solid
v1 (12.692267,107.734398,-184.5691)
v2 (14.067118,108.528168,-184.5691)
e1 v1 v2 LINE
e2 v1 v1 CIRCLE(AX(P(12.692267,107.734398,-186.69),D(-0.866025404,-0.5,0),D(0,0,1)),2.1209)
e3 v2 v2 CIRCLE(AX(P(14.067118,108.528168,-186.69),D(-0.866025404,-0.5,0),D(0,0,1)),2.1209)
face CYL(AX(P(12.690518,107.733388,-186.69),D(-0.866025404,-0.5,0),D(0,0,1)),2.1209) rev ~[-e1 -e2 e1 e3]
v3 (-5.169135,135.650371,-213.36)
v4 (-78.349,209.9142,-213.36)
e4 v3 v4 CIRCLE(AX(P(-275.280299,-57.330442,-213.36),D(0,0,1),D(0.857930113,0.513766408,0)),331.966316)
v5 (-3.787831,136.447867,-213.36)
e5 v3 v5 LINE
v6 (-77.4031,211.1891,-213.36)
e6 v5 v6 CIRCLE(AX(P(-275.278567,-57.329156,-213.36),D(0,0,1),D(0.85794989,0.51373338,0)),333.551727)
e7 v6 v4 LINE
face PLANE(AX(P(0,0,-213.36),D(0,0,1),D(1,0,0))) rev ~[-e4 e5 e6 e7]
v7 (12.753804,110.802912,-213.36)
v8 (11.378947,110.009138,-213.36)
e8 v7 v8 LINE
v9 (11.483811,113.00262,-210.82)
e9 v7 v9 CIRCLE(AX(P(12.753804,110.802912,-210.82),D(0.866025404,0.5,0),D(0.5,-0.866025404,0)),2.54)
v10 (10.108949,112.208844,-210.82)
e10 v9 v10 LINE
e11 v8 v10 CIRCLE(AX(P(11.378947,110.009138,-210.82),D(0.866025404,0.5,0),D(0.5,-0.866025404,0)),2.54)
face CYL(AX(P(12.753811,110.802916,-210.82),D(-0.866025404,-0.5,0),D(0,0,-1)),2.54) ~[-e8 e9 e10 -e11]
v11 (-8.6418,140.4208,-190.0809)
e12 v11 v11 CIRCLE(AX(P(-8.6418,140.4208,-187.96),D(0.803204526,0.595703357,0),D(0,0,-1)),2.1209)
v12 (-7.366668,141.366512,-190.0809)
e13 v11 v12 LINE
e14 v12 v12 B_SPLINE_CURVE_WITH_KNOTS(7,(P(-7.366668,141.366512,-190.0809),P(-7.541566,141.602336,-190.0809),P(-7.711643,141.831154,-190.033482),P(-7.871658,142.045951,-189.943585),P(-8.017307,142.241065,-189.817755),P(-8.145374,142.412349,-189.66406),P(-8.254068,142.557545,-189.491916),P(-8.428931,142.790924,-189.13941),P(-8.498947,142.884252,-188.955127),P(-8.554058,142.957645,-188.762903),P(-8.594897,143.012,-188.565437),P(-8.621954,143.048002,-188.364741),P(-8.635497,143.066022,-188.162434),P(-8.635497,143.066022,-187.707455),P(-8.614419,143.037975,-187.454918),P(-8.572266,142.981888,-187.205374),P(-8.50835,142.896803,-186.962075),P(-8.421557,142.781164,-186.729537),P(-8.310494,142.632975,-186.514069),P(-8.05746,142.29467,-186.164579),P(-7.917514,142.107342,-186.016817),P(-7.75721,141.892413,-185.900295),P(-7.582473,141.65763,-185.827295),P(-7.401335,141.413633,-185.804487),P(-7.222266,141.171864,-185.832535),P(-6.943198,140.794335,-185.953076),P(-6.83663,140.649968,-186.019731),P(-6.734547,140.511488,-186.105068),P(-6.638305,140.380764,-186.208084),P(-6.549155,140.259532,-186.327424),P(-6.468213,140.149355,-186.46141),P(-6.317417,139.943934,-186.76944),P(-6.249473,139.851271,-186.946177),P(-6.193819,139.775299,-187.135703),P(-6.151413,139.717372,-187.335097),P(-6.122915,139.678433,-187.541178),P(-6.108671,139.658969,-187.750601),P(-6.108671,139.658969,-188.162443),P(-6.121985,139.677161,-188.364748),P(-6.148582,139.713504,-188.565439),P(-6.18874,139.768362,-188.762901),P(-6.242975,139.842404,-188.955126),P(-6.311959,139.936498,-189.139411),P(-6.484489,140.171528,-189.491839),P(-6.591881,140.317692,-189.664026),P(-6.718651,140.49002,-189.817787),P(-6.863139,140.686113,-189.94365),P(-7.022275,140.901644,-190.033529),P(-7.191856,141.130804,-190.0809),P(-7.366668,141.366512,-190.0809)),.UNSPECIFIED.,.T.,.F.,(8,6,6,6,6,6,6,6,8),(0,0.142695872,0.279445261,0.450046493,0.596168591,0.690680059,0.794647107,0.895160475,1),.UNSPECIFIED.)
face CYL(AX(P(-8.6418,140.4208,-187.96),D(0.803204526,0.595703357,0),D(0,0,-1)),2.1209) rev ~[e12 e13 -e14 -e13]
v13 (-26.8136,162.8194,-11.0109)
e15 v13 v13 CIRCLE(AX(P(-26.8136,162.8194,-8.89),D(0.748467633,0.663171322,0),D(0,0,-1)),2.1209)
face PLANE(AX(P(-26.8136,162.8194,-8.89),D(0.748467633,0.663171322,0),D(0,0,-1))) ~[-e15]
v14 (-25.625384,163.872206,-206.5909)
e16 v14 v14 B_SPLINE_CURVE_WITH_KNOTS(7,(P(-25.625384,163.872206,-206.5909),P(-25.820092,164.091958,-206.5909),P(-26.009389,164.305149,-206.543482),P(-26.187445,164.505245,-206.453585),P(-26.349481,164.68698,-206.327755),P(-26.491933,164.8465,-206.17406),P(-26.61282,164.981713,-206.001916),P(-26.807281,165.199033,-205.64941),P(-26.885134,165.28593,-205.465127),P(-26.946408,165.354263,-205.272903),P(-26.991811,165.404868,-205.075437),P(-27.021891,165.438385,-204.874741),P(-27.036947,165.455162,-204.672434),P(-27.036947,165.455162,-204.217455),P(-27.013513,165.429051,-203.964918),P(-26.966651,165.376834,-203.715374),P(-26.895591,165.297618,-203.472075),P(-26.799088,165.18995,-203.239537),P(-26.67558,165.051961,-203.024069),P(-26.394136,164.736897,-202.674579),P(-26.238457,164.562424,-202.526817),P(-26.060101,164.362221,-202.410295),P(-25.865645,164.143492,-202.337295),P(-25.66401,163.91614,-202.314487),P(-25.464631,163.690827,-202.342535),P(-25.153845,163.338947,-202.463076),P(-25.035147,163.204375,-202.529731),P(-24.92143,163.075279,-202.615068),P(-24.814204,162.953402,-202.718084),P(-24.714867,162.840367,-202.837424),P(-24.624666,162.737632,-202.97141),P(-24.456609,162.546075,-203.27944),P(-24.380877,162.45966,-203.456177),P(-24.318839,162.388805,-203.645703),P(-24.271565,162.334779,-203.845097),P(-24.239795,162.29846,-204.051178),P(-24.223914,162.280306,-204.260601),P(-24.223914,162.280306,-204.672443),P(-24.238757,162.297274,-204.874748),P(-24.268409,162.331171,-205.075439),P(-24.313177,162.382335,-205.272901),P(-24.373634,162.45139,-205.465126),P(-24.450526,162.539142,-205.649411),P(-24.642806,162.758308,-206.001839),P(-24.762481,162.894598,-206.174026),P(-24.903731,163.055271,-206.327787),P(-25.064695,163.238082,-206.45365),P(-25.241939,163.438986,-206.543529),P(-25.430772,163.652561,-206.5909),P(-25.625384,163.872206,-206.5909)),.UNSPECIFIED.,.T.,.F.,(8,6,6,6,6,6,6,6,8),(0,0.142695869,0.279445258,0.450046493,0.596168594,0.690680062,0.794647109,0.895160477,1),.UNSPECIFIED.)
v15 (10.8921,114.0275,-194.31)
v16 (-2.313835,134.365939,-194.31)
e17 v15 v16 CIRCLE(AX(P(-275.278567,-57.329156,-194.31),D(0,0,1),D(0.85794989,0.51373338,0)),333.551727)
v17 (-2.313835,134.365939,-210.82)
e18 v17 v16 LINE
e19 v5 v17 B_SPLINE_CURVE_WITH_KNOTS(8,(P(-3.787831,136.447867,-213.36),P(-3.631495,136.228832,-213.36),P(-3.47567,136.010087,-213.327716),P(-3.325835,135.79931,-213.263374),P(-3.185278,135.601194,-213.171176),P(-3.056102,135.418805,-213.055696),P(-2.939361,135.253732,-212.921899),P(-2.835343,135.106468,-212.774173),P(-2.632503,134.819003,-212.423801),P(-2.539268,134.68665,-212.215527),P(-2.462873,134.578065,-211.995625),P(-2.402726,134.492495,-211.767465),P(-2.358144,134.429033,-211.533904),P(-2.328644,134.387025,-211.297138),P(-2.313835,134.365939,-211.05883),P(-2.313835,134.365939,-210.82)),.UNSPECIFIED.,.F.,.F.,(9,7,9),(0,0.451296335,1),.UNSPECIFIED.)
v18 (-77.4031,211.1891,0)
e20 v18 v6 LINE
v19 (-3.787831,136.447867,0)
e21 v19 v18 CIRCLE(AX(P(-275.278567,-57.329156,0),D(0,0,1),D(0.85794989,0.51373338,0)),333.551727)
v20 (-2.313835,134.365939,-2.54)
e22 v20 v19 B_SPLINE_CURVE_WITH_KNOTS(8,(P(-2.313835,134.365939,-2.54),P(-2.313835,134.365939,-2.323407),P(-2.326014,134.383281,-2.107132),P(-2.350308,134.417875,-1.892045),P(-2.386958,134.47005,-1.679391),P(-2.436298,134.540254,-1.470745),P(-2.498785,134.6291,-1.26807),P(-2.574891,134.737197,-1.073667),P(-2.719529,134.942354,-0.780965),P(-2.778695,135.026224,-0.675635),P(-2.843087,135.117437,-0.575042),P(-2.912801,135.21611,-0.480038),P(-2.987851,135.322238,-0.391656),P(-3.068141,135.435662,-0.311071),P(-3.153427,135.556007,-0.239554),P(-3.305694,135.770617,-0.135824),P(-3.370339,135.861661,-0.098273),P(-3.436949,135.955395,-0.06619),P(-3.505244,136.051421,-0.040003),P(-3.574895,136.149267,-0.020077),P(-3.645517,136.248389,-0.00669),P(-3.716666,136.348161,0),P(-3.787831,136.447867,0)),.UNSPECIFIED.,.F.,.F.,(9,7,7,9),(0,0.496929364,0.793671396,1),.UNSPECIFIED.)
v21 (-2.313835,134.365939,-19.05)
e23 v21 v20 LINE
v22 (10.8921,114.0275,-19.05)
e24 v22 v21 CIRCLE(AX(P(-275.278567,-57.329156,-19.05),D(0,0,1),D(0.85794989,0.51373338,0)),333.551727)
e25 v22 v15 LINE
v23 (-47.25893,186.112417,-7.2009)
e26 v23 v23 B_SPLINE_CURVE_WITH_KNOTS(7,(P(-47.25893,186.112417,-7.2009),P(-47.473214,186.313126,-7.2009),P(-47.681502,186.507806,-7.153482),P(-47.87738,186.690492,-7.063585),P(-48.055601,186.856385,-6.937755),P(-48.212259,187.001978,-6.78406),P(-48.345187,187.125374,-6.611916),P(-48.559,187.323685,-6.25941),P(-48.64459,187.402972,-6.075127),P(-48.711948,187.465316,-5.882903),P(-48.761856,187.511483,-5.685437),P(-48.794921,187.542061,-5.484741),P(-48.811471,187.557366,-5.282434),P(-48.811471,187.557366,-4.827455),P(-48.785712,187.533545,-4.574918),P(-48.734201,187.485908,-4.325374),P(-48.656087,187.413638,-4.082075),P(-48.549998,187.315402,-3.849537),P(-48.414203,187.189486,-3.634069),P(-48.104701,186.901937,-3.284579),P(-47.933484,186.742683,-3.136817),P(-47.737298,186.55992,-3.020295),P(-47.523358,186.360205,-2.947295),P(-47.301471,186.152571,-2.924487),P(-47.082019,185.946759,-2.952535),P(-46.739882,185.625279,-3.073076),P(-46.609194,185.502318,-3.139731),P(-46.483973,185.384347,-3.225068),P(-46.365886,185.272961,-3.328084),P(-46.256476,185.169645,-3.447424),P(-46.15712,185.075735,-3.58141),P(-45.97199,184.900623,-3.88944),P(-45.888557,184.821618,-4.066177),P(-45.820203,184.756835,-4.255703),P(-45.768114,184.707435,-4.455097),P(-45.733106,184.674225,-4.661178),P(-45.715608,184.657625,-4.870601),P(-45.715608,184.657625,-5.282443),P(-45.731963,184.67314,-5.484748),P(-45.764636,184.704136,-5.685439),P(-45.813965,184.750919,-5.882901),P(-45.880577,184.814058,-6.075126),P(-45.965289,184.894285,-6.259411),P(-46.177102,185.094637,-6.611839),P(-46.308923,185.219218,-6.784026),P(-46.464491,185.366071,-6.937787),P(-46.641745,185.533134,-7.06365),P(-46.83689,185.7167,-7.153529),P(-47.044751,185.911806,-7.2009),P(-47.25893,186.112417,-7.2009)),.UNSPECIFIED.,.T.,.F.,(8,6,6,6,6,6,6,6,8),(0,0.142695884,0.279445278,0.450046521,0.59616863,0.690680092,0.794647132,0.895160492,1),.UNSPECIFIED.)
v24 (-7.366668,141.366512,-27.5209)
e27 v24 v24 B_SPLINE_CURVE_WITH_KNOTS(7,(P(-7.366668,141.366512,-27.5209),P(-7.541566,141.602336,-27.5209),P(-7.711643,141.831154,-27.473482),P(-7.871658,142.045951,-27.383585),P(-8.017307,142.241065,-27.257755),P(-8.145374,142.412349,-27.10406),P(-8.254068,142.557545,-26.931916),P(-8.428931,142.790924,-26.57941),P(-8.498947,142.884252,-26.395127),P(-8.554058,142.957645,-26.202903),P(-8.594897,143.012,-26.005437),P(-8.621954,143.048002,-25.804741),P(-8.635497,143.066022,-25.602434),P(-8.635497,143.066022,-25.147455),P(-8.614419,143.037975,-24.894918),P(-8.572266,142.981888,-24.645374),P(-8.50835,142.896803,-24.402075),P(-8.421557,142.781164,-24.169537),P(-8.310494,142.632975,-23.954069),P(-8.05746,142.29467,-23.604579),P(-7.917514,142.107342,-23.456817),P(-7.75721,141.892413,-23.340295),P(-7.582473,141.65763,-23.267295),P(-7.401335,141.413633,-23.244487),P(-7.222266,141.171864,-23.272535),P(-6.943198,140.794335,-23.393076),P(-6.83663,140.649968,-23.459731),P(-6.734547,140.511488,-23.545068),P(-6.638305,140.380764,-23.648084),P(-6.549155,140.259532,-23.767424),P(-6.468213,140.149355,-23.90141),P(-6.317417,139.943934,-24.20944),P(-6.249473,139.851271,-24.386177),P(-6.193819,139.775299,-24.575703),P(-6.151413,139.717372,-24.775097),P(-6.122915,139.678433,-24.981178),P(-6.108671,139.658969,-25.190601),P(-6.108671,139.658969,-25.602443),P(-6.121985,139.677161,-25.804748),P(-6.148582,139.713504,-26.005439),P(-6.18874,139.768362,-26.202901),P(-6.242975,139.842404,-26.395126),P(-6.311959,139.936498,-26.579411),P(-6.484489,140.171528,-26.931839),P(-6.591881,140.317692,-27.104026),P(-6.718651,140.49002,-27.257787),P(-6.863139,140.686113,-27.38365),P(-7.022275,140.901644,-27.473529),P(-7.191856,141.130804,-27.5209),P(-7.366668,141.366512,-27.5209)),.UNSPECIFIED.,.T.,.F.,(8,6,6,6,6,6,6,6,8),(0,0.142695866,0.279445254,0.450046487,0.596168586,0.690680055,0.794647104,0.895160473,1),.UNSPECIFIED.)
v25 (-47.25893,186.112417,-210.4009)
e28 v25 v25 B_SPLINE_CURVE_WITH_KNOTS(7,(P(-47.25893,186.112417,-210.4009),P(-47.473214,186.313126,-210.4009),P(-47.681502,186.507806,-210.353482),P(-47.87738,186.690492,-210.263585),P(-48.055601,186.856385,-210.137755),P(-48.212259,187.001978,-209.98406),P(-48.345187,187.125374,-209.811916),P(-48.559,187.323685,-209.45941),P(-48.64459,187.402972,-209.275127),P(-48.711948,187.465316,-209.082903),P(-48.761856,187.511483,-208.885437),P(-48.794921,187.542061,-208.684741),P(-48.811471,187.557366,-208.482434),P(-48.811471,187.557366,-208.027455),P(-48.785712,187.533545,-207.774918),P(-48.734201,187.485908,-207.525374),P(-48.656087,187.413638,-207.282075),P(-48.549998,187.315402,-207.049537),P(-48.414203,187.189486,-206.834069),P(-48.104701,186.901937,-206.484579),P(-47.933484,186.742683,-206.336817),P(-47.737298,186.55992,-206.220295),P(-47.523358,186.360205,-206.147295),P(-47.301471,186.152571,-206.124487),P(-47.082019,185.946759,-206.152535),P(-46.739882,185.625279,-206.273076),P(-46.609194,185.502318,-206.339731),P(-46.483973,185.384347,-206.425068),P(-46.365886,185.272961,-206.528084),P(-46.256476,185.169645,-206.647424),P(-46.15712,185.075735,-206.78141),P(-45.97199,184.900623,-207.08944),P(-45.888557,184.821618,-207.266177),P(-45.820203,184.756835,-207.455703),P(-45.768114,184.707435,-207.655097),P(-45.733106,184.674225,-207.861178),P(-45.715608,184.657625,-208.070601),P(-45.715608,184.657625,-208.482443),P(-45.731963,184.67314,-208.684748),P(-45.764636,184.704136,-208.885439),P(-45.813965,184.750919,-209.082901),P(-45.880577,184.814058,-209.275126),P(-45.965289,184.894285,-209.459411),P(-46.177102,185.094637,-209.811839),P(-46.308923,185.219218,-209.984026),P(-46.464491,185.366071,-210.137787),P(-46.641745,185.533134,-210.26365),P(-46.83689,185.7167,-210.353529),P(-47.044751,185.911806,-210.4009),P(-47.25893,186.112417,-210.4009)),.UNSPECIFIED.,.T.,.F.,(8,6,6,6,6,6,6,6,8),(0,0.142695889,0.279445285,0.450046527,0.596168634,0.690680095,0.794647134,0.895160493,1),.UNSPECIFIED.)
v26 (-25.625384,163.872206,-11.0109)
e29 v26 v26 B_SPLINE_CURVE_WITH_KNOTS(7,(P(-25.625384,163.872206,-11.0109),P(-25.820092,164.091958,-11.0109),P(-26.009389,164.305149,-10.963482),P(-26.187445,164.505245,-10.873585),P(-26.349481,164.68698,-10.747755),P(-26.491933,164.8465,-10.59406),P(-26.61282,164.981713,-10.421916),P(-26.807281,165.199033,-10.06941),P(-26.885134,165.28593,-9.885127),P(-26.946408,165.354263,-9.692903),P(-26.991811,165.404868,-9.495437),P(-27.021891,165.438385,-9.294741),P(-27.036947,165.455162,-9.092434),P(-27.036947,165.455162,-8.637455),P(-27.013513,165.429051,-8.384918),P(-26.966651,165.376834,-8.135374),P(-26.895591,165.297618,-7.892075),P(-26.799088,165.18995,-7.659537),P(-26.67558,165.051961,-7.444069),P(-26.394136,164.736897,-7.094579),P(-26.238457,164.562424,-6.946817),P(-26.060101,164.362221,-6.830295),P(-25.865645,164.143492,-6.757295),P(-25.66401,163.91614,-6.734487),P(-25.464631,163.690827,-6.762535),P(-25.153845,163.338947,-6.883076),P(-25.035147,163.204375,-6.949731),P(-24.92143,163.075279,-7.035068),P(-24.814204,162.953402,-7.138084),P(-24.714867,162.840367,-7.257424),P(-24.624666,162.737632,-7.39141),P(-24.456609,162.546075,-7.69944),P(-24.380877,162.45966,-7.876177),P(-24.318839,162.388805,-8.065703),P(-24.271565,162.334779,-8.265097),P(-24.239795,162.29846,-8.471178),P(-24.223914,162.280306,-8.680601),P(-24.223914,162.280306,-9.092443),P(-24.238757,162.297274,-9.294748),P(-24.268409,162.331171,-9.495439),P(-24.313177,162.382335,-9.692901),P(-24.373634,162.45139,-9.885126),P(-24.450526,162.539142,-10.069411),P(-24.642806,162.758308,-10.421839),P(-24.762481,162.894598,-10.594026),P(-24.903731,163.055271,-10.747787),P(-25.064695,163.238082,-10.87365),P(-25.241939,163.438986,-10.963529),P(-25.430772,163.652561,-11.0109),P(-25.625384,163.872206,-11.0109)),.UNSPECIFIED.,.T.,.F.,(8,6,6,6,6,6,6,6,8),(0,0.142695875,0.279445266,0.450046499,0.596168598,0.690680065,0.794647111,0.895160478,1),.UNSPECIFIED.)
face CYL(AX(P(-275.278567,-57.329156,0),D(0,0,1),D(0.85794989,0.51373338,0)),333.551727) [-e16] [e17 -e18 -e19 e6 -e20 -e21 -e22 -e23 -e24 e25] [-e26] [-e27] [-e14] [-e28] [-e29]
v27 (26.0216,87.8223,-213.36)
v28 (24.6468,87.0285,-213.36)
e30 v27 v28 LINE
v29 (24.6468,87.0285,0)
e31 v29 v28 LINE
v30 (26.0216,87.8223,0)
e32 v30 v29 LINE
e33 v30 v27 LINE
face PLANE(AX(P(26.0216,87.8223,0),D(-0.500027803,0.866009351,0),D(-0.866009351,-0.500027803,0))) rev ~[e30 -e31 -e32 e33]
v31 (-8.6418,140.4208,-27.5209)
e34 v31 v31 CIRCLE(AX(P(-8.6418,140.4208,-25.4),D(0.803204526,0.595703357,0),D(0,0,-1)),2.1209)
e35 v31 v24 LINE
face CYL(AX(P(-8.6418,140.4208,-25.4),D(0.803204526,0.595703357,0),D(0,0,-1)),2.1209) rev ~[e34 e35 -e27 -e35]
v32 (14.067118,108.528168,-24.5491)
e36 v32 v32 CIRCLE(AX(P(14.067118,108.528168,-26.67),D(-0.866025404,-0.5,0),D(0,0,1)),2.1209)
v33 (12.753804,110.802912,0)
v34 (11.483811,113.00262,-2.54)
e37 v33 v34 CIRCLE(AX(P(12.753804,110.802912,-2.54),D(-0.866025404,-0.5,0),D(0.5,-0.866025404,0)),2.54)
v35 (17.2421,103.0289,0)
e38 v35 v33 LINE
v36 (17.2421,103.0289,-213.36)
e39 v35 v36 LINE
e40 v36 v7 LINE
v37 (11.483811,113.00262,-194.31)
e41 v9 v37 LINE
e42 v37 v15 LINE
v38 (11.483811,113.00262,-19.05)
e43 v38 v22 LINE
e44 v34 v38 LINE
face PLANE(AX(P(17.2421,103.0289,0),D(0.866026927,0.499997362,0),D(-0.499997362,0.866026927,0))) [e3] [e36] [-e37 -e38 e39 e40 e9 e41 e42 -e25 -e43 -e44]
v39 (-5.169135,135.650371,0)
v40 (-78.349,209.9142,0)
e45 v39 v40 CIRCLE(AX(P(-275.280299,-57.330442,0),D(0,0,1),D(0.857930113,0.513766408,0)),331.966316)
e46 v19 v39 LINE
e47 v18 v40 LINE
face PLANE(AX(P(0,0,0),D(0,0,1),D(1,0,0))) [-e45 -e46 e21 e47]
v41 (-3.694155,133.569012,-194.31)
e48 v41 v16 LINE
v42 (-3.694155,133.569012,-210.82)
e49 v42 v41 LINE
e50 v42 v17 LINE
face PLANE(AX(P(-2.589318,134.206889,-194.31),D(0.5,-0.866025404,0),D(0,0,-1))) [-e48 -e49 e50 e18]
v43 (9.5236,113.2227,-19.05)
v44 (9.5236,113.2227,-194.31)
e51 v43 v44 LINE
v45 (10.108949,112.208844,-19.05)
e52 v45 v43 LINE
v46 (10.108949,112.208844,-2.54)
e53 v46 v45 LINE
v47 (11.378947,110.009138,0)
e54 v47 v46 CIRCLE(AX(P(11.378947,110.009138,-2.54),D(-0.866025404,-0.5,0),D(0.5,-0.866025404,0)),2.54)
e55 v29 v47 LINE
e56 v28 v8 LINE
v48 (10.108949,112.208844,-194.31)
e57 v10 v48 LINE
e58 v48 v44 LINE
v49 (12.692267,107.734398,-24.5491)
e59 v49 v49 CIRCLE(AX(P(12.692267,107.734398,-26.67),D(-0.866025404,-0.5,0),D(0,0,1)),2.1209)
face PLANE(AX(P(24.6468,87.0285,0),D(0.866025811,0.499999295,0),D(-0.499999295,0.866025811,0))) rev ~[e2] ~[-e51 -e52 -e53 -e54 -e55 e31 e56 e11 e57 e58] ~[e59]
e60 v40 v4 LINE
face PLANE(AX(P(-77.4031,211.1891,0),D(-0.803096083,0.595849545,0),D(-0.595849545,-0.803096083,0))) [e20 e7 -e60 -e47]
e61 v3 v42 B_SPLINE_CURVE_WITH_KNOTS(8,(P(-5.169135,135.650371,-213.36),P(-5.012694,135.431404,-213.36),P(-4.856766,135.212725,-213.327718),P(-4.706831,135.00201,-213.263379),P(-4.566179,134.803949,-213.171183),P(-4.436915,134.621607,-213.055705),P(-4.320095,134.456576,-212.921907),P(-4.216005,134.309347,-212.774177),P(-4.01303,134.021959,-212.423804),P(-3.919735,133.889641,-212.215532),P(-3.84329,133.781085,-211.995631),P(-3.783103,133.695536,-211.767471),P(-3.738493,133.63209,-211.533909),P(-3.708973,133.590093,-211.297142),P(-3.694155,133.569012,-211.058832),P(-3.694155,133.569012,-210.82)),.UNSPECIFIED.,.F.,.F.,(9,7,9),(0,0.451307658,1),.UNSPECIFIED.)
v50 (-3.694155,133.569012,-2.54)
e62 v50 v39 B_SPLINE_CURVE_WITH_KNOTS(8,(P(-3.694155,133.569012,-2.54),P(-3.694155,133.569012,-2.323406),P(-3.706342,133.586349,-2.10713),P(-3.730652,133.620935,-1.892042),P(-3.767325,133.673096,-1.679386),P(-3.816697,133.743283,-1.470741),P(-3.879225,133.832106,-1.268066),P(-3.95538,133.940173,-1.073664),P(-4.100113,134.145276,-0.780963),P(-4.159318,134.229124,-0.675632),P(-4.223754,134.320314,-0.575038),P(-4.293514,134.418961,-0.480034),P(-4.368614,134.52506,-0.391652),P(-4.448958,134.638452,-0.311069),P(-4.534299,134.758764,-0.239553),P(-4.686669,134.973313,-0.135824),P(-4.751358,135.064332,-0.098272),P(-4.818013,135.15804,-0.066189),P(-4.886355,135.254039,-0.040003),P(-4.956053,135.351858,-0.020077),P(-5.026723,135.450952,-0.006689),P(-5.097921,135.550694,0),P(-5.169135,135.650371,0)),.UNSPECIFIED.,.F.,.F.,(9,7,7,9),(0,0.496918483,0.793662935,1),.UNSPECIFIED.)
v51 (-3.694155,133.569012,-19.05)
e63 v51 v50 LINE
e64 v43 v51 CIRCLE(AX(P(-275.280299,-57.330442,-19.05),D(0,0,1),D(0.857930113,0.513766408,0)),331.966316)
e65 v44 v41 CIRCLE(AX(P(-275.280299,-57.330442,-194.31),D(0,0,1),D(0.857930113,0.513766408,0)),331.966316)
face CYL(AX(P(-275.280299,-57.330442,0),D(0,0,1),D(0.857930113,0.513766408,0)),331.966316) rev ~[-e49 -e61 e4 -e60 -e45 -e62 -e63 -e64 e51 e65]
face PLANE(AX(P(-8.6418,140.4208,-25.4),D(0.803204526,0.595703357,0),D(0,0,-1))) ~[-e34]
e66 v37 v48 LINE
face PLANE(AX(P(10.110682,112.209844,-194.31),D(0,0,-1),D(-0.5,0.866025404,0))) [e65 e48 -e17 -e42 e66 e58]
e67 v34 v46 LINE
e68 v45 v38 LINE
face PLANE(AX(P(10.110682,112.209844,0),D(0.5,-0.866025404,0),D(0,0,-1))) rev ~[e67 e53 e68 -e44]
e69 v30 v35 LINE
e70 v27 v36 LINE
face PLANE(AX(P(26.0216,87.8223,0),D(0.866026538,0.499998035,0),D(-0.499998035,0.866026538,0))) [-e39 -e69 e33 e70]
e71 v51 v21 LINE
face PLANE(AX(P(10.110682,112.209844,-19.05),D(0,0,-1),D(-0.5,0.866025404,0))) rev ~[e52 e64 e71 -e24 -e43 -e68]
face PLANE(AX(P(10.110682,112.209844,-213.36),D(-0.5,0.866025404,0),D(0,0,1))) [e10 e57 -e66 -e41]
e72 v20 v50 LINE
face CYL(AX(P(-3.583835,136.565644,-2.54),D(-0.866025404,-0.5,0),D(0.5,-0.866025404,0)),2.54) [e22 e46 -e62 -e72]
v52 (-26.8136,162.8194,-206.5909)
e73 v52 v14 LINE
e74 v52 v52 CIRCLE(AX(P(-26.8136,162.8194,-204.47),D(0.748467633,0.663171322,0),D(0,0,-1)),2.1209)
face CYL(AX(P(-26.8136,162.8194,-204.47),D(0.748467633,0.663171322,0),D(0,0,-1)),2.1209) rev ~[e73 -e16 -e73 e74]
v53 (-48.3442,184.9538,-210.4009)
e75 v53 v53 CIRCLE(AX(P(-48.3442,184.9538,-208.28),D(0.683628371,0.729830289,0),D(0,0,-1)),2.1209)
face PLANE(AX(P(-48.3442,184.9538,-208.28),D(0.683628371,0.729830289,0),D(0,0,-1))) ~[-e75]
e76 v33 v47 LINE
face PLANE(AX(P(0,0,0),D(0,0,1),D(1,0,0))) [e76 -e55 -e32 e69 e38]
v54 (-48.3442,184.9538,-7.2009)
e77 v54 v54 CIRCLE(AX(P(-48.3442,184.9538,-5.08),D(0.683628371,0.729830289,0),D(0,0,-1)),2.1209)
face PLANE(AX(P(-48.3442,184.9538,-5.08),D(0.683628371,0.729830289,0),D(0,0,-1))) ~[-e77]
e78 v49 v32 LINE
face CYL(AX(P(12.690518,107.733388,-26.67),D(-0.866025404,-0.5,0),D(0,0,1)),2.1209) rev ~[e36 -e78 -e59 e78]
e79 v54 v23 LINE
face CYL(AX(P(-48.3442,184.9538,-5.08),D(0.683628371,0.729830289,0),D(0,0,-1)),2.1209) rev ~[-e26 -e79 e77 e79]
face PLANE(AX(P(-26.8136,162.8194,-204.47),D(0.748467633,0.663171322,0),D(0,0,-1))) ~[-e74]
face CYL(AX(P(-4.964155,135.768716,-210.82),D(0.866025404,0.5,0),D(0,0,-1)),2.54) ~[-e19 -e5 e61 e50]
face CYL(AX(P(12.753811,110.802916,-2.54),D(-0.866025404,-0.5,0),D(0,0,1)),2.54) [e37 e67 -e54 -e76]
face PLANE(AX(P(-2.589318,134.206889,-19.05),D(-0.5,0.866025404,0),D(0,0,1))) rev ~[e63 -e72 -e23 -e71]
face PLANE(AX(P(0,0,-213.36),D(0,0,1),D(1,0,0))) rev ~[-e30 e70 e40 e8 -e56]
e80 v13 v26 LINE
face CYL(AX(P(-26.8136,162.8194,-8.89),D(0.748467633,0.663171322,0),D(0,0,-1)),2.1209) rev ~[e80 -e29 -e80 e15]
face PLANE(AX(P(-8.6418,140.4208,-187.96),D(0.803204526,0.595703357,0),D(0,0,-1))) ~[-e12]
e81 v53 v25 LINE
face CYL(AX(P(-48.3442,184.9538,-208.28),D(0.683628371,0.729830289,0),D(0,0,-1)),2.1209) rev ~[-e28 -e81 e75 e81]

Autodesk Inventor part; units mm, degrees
ref_plane "YZ Plane" through (0, 0, 0) normal (1, 0, 0) x (0, 1, 0)
ref_plane "XZ Plane" through (0, 0, 0) normal (0, 1, 0) x (-1, 0, 0)
ref_plane "XY Plane" through (0, 0, 0) normal (0, 0, 1) x (1, 0, 0)
sketch "Sketch1" plane through (0, 0, 0) normal (0, 0, 1) x (1, 0, 0)
  line L0 (17.2421, 103.0289) -> (10.8921, 114.0275) projected
  arc A0 (-38.1, 178.1746) -> (-35.7188, 175.7934) centre (-35.7188, 178.1746) ccw construction
  line L1 (-57.8926, 195.9643) -> (-60.8346, 198.1519) construction
  line L2 (-54.5271, 197.4183) -> (-57.8926, 195.9643) construction
  line L3 (-60.8346, 198.1519) -> (-60.4111, 201.7935) construction
  circle A1 centre (-57.4691, 199.6059) radius 4.7625 construction
  line L4 (26.0216, 87.8223) -> (10.8921, 114.0275)
  arc A2 (10.8921, 114.0275) -> (-77.4031, 211.1891) centre (-275.2793, -57.3297) ccw
  line L5 (24.6468, 87.0285) -> (9.5236, 113.2227)
  arc A3 (9.5236, 113.2227) -> (-78.349, 209.9142) centre (-275.2793, -57.3297) ccw
  line L6 (26.0216, 87.8223) -> (24.6468, 87.0285)
  line L7 (-77.4031, 211.1891) -> (-78.349, 209.9142)
  arc A4 (8.2879, 112.4961) -> (-75.5859, 206.0593) centre (-275.2793, -57.3297) ccw construction
  line L8 (8.2879, 112.4961) -> (24.1221, 85.0704) construction
  point P0 (0, 0)
  dimension "d0" = 1.5875
  dimension "d26" = 1.4334
extrude "main extrusion" add sketch "Sketch1" against normal blind 213.36
sketch "Sketch2" plane through (9.5236, 113.2227, -213.36) normal (-0.866, -0.5, 0) x (0, 0, 1)
  line L0 (213.36, -30.2465) -> (213.36, 0.0127) projected
  line L1 (213.36, -1.1707) -> (194.31, -1.1707)
  line L2 (194.31, -1.1707) -> (194.31, 24.2293)
  line L3 (194.31, 24.2293) -> (213.36, 24.2293)
  line L4 (213.36, 24.2293) -> (213.36, -1.1707)
  line L5 (194.31, -1.1707) -> (0, -1.1707) construction
  line L6 (213.36, 0.0127) -> (0, 0.0127) construction
  line L7 (0, -1.1707) -> (19.05, -1.1707)
  line L8 (19.05, -1.1707) -> (19.05, 24.2293)
  line L9 (19.05, 24.2293) -> (0, 24.2293)
  line L10 (0, 24.2293) -> (0, -1.1707)
  point P0 (213.36, -93.292)
  dimension "d3" = 19.05
  dimension "d4" = 25.4
  dimension "d5" = 19.05
  dimension "d6" = 25.4
extrude "square side cuts" cut sketch "Sketch2" along normal blind 2.54 and the other way blind 2.54
fillet "square cut fillets" radius 2.54 4 edges at (-3.004, 133.9675, -213.36) (-3.004, 133.9675, 0) (10.7964, 112.6057, 0) (10.7964, 112.6057, -213.36)
ref_plane "Work Plane1" through (0, 0, -5.08) normal (0, 0, 1) x (1, 0, 0)
ref_plane "Work Plane2" through (-50.8851, 191.5138, -213.36) normal (-0.8031, 0.5959, 0) x (0, 0, 1)
hole "Hole1" at (-48.3442, 184.9538, -5.08) direction (0.6836, 0.7298, 0) diameter 4.2418 depth 12.7
ref_plane "Work Plane3" through (0, 0, -8.89) normal (0, 0, 1) x (1, 0, 0)
ref_plane "Work Plane4" through (-26.407, 173.352, -213.36) normal (-0.8031, 0.5959, 0) x (0, 0, 1)
hole "Hole2" at (-26.8136, 162.8194, -8.89) direction (0.7485, 0.6632, 0) diameter 4.2418 depth 12.7
ref_plane "Work Plane5" through (0, 0, -25.4) normal (0, 0, 1) x (1, 0, 0)
ref_plane "Work Plane6" through (-3.9687, 156.7036, -213.36) normal (-0.8031, 0.5959, 0) x (0, 0, 1)
hole "Hole5" at (-8.6418, 140.4208, -25.4) direction (0.8032, 0.5957, 0) diameter 4.2418 depth 12.7
ref_plane "Work Plane7" through (0, 0, -208.28) normal (0, 0, -1) x (-1, 0, 0)
ref_plane "Work Plane8" through (-50.8851, 191.5138, -213.36) normal (-0.8031, 0.5959, 0) x (0, 0, 1)
hole "Hole6" at (-48.3442, 184.9538, -208.28) direction (0.6836, 0.7298, 0) diameter 4.2418 depth 12.7
ref_plane "Work Plane9" through (0, 0, -204.47) normal (0, 0, -1) x (-1, 0, 0)
ref_plane "Work Plane10" through (-26.407, 173.352, -213.36) normal (-0.8031, 0.5959, 0) x (0, 0, 1)
hole "Hole7" at (-26.8136, 162.8194, -204.47) direction (0.7485, 0.6632, 0) diameter 4.2418 depth 12.7
ref_plane "Work Plane11" through (0, 0, -187.96) normal (0, 0, -1) x (-1, 0, 0)
ref_plane "Work Plane12" through (-3.9687, 156.7036, -213.36) normal (-0.8031, 0.5959, 0) x (0, 0, 1)
hole "Hole8" at (-8.6418, 140.4208, -187.96) direction (0.8032, 0.5957, 0) diameter 4.2418 depth 12.7
sketch "Sketch4" plane through (24.6468, 87.0285, -213.36) normal (-0.866, -0.5, 0) x (0, 0, 1)
  circle A0 centre (26.67, 23.9091) radius 2.1209
  circle A1 centre (186.69, 23.9091) radius 2.1209
  arc A2 (22.0345, 23.9091) -> (26.2255, 23.9091) centre (24.13, 23.9091) ccw construction
  line L0 (24.13, 23.9091) -> (26.67, 23.9091) construction
  arc A3 (187.1345, 23.9091) -> (191.3255, 23.9091) centre (189.23, 23.9091) ccw construction
  line L1 (189.23, 23.9091) -> (186.69, 23.9091) construction
  point P0 (213.36, -63.0455)
  dimension "d102" = 4.2418
  dimension "d105" = 4.2418
  dimension "d109" = 2.54
  dimension "d110" = 2.54
extrude "top screw holes" cut sketch "Sketch4" against normal blind 1.5875
properties part number "! Intake polycarb" material "Polycarbonate, Clear"
